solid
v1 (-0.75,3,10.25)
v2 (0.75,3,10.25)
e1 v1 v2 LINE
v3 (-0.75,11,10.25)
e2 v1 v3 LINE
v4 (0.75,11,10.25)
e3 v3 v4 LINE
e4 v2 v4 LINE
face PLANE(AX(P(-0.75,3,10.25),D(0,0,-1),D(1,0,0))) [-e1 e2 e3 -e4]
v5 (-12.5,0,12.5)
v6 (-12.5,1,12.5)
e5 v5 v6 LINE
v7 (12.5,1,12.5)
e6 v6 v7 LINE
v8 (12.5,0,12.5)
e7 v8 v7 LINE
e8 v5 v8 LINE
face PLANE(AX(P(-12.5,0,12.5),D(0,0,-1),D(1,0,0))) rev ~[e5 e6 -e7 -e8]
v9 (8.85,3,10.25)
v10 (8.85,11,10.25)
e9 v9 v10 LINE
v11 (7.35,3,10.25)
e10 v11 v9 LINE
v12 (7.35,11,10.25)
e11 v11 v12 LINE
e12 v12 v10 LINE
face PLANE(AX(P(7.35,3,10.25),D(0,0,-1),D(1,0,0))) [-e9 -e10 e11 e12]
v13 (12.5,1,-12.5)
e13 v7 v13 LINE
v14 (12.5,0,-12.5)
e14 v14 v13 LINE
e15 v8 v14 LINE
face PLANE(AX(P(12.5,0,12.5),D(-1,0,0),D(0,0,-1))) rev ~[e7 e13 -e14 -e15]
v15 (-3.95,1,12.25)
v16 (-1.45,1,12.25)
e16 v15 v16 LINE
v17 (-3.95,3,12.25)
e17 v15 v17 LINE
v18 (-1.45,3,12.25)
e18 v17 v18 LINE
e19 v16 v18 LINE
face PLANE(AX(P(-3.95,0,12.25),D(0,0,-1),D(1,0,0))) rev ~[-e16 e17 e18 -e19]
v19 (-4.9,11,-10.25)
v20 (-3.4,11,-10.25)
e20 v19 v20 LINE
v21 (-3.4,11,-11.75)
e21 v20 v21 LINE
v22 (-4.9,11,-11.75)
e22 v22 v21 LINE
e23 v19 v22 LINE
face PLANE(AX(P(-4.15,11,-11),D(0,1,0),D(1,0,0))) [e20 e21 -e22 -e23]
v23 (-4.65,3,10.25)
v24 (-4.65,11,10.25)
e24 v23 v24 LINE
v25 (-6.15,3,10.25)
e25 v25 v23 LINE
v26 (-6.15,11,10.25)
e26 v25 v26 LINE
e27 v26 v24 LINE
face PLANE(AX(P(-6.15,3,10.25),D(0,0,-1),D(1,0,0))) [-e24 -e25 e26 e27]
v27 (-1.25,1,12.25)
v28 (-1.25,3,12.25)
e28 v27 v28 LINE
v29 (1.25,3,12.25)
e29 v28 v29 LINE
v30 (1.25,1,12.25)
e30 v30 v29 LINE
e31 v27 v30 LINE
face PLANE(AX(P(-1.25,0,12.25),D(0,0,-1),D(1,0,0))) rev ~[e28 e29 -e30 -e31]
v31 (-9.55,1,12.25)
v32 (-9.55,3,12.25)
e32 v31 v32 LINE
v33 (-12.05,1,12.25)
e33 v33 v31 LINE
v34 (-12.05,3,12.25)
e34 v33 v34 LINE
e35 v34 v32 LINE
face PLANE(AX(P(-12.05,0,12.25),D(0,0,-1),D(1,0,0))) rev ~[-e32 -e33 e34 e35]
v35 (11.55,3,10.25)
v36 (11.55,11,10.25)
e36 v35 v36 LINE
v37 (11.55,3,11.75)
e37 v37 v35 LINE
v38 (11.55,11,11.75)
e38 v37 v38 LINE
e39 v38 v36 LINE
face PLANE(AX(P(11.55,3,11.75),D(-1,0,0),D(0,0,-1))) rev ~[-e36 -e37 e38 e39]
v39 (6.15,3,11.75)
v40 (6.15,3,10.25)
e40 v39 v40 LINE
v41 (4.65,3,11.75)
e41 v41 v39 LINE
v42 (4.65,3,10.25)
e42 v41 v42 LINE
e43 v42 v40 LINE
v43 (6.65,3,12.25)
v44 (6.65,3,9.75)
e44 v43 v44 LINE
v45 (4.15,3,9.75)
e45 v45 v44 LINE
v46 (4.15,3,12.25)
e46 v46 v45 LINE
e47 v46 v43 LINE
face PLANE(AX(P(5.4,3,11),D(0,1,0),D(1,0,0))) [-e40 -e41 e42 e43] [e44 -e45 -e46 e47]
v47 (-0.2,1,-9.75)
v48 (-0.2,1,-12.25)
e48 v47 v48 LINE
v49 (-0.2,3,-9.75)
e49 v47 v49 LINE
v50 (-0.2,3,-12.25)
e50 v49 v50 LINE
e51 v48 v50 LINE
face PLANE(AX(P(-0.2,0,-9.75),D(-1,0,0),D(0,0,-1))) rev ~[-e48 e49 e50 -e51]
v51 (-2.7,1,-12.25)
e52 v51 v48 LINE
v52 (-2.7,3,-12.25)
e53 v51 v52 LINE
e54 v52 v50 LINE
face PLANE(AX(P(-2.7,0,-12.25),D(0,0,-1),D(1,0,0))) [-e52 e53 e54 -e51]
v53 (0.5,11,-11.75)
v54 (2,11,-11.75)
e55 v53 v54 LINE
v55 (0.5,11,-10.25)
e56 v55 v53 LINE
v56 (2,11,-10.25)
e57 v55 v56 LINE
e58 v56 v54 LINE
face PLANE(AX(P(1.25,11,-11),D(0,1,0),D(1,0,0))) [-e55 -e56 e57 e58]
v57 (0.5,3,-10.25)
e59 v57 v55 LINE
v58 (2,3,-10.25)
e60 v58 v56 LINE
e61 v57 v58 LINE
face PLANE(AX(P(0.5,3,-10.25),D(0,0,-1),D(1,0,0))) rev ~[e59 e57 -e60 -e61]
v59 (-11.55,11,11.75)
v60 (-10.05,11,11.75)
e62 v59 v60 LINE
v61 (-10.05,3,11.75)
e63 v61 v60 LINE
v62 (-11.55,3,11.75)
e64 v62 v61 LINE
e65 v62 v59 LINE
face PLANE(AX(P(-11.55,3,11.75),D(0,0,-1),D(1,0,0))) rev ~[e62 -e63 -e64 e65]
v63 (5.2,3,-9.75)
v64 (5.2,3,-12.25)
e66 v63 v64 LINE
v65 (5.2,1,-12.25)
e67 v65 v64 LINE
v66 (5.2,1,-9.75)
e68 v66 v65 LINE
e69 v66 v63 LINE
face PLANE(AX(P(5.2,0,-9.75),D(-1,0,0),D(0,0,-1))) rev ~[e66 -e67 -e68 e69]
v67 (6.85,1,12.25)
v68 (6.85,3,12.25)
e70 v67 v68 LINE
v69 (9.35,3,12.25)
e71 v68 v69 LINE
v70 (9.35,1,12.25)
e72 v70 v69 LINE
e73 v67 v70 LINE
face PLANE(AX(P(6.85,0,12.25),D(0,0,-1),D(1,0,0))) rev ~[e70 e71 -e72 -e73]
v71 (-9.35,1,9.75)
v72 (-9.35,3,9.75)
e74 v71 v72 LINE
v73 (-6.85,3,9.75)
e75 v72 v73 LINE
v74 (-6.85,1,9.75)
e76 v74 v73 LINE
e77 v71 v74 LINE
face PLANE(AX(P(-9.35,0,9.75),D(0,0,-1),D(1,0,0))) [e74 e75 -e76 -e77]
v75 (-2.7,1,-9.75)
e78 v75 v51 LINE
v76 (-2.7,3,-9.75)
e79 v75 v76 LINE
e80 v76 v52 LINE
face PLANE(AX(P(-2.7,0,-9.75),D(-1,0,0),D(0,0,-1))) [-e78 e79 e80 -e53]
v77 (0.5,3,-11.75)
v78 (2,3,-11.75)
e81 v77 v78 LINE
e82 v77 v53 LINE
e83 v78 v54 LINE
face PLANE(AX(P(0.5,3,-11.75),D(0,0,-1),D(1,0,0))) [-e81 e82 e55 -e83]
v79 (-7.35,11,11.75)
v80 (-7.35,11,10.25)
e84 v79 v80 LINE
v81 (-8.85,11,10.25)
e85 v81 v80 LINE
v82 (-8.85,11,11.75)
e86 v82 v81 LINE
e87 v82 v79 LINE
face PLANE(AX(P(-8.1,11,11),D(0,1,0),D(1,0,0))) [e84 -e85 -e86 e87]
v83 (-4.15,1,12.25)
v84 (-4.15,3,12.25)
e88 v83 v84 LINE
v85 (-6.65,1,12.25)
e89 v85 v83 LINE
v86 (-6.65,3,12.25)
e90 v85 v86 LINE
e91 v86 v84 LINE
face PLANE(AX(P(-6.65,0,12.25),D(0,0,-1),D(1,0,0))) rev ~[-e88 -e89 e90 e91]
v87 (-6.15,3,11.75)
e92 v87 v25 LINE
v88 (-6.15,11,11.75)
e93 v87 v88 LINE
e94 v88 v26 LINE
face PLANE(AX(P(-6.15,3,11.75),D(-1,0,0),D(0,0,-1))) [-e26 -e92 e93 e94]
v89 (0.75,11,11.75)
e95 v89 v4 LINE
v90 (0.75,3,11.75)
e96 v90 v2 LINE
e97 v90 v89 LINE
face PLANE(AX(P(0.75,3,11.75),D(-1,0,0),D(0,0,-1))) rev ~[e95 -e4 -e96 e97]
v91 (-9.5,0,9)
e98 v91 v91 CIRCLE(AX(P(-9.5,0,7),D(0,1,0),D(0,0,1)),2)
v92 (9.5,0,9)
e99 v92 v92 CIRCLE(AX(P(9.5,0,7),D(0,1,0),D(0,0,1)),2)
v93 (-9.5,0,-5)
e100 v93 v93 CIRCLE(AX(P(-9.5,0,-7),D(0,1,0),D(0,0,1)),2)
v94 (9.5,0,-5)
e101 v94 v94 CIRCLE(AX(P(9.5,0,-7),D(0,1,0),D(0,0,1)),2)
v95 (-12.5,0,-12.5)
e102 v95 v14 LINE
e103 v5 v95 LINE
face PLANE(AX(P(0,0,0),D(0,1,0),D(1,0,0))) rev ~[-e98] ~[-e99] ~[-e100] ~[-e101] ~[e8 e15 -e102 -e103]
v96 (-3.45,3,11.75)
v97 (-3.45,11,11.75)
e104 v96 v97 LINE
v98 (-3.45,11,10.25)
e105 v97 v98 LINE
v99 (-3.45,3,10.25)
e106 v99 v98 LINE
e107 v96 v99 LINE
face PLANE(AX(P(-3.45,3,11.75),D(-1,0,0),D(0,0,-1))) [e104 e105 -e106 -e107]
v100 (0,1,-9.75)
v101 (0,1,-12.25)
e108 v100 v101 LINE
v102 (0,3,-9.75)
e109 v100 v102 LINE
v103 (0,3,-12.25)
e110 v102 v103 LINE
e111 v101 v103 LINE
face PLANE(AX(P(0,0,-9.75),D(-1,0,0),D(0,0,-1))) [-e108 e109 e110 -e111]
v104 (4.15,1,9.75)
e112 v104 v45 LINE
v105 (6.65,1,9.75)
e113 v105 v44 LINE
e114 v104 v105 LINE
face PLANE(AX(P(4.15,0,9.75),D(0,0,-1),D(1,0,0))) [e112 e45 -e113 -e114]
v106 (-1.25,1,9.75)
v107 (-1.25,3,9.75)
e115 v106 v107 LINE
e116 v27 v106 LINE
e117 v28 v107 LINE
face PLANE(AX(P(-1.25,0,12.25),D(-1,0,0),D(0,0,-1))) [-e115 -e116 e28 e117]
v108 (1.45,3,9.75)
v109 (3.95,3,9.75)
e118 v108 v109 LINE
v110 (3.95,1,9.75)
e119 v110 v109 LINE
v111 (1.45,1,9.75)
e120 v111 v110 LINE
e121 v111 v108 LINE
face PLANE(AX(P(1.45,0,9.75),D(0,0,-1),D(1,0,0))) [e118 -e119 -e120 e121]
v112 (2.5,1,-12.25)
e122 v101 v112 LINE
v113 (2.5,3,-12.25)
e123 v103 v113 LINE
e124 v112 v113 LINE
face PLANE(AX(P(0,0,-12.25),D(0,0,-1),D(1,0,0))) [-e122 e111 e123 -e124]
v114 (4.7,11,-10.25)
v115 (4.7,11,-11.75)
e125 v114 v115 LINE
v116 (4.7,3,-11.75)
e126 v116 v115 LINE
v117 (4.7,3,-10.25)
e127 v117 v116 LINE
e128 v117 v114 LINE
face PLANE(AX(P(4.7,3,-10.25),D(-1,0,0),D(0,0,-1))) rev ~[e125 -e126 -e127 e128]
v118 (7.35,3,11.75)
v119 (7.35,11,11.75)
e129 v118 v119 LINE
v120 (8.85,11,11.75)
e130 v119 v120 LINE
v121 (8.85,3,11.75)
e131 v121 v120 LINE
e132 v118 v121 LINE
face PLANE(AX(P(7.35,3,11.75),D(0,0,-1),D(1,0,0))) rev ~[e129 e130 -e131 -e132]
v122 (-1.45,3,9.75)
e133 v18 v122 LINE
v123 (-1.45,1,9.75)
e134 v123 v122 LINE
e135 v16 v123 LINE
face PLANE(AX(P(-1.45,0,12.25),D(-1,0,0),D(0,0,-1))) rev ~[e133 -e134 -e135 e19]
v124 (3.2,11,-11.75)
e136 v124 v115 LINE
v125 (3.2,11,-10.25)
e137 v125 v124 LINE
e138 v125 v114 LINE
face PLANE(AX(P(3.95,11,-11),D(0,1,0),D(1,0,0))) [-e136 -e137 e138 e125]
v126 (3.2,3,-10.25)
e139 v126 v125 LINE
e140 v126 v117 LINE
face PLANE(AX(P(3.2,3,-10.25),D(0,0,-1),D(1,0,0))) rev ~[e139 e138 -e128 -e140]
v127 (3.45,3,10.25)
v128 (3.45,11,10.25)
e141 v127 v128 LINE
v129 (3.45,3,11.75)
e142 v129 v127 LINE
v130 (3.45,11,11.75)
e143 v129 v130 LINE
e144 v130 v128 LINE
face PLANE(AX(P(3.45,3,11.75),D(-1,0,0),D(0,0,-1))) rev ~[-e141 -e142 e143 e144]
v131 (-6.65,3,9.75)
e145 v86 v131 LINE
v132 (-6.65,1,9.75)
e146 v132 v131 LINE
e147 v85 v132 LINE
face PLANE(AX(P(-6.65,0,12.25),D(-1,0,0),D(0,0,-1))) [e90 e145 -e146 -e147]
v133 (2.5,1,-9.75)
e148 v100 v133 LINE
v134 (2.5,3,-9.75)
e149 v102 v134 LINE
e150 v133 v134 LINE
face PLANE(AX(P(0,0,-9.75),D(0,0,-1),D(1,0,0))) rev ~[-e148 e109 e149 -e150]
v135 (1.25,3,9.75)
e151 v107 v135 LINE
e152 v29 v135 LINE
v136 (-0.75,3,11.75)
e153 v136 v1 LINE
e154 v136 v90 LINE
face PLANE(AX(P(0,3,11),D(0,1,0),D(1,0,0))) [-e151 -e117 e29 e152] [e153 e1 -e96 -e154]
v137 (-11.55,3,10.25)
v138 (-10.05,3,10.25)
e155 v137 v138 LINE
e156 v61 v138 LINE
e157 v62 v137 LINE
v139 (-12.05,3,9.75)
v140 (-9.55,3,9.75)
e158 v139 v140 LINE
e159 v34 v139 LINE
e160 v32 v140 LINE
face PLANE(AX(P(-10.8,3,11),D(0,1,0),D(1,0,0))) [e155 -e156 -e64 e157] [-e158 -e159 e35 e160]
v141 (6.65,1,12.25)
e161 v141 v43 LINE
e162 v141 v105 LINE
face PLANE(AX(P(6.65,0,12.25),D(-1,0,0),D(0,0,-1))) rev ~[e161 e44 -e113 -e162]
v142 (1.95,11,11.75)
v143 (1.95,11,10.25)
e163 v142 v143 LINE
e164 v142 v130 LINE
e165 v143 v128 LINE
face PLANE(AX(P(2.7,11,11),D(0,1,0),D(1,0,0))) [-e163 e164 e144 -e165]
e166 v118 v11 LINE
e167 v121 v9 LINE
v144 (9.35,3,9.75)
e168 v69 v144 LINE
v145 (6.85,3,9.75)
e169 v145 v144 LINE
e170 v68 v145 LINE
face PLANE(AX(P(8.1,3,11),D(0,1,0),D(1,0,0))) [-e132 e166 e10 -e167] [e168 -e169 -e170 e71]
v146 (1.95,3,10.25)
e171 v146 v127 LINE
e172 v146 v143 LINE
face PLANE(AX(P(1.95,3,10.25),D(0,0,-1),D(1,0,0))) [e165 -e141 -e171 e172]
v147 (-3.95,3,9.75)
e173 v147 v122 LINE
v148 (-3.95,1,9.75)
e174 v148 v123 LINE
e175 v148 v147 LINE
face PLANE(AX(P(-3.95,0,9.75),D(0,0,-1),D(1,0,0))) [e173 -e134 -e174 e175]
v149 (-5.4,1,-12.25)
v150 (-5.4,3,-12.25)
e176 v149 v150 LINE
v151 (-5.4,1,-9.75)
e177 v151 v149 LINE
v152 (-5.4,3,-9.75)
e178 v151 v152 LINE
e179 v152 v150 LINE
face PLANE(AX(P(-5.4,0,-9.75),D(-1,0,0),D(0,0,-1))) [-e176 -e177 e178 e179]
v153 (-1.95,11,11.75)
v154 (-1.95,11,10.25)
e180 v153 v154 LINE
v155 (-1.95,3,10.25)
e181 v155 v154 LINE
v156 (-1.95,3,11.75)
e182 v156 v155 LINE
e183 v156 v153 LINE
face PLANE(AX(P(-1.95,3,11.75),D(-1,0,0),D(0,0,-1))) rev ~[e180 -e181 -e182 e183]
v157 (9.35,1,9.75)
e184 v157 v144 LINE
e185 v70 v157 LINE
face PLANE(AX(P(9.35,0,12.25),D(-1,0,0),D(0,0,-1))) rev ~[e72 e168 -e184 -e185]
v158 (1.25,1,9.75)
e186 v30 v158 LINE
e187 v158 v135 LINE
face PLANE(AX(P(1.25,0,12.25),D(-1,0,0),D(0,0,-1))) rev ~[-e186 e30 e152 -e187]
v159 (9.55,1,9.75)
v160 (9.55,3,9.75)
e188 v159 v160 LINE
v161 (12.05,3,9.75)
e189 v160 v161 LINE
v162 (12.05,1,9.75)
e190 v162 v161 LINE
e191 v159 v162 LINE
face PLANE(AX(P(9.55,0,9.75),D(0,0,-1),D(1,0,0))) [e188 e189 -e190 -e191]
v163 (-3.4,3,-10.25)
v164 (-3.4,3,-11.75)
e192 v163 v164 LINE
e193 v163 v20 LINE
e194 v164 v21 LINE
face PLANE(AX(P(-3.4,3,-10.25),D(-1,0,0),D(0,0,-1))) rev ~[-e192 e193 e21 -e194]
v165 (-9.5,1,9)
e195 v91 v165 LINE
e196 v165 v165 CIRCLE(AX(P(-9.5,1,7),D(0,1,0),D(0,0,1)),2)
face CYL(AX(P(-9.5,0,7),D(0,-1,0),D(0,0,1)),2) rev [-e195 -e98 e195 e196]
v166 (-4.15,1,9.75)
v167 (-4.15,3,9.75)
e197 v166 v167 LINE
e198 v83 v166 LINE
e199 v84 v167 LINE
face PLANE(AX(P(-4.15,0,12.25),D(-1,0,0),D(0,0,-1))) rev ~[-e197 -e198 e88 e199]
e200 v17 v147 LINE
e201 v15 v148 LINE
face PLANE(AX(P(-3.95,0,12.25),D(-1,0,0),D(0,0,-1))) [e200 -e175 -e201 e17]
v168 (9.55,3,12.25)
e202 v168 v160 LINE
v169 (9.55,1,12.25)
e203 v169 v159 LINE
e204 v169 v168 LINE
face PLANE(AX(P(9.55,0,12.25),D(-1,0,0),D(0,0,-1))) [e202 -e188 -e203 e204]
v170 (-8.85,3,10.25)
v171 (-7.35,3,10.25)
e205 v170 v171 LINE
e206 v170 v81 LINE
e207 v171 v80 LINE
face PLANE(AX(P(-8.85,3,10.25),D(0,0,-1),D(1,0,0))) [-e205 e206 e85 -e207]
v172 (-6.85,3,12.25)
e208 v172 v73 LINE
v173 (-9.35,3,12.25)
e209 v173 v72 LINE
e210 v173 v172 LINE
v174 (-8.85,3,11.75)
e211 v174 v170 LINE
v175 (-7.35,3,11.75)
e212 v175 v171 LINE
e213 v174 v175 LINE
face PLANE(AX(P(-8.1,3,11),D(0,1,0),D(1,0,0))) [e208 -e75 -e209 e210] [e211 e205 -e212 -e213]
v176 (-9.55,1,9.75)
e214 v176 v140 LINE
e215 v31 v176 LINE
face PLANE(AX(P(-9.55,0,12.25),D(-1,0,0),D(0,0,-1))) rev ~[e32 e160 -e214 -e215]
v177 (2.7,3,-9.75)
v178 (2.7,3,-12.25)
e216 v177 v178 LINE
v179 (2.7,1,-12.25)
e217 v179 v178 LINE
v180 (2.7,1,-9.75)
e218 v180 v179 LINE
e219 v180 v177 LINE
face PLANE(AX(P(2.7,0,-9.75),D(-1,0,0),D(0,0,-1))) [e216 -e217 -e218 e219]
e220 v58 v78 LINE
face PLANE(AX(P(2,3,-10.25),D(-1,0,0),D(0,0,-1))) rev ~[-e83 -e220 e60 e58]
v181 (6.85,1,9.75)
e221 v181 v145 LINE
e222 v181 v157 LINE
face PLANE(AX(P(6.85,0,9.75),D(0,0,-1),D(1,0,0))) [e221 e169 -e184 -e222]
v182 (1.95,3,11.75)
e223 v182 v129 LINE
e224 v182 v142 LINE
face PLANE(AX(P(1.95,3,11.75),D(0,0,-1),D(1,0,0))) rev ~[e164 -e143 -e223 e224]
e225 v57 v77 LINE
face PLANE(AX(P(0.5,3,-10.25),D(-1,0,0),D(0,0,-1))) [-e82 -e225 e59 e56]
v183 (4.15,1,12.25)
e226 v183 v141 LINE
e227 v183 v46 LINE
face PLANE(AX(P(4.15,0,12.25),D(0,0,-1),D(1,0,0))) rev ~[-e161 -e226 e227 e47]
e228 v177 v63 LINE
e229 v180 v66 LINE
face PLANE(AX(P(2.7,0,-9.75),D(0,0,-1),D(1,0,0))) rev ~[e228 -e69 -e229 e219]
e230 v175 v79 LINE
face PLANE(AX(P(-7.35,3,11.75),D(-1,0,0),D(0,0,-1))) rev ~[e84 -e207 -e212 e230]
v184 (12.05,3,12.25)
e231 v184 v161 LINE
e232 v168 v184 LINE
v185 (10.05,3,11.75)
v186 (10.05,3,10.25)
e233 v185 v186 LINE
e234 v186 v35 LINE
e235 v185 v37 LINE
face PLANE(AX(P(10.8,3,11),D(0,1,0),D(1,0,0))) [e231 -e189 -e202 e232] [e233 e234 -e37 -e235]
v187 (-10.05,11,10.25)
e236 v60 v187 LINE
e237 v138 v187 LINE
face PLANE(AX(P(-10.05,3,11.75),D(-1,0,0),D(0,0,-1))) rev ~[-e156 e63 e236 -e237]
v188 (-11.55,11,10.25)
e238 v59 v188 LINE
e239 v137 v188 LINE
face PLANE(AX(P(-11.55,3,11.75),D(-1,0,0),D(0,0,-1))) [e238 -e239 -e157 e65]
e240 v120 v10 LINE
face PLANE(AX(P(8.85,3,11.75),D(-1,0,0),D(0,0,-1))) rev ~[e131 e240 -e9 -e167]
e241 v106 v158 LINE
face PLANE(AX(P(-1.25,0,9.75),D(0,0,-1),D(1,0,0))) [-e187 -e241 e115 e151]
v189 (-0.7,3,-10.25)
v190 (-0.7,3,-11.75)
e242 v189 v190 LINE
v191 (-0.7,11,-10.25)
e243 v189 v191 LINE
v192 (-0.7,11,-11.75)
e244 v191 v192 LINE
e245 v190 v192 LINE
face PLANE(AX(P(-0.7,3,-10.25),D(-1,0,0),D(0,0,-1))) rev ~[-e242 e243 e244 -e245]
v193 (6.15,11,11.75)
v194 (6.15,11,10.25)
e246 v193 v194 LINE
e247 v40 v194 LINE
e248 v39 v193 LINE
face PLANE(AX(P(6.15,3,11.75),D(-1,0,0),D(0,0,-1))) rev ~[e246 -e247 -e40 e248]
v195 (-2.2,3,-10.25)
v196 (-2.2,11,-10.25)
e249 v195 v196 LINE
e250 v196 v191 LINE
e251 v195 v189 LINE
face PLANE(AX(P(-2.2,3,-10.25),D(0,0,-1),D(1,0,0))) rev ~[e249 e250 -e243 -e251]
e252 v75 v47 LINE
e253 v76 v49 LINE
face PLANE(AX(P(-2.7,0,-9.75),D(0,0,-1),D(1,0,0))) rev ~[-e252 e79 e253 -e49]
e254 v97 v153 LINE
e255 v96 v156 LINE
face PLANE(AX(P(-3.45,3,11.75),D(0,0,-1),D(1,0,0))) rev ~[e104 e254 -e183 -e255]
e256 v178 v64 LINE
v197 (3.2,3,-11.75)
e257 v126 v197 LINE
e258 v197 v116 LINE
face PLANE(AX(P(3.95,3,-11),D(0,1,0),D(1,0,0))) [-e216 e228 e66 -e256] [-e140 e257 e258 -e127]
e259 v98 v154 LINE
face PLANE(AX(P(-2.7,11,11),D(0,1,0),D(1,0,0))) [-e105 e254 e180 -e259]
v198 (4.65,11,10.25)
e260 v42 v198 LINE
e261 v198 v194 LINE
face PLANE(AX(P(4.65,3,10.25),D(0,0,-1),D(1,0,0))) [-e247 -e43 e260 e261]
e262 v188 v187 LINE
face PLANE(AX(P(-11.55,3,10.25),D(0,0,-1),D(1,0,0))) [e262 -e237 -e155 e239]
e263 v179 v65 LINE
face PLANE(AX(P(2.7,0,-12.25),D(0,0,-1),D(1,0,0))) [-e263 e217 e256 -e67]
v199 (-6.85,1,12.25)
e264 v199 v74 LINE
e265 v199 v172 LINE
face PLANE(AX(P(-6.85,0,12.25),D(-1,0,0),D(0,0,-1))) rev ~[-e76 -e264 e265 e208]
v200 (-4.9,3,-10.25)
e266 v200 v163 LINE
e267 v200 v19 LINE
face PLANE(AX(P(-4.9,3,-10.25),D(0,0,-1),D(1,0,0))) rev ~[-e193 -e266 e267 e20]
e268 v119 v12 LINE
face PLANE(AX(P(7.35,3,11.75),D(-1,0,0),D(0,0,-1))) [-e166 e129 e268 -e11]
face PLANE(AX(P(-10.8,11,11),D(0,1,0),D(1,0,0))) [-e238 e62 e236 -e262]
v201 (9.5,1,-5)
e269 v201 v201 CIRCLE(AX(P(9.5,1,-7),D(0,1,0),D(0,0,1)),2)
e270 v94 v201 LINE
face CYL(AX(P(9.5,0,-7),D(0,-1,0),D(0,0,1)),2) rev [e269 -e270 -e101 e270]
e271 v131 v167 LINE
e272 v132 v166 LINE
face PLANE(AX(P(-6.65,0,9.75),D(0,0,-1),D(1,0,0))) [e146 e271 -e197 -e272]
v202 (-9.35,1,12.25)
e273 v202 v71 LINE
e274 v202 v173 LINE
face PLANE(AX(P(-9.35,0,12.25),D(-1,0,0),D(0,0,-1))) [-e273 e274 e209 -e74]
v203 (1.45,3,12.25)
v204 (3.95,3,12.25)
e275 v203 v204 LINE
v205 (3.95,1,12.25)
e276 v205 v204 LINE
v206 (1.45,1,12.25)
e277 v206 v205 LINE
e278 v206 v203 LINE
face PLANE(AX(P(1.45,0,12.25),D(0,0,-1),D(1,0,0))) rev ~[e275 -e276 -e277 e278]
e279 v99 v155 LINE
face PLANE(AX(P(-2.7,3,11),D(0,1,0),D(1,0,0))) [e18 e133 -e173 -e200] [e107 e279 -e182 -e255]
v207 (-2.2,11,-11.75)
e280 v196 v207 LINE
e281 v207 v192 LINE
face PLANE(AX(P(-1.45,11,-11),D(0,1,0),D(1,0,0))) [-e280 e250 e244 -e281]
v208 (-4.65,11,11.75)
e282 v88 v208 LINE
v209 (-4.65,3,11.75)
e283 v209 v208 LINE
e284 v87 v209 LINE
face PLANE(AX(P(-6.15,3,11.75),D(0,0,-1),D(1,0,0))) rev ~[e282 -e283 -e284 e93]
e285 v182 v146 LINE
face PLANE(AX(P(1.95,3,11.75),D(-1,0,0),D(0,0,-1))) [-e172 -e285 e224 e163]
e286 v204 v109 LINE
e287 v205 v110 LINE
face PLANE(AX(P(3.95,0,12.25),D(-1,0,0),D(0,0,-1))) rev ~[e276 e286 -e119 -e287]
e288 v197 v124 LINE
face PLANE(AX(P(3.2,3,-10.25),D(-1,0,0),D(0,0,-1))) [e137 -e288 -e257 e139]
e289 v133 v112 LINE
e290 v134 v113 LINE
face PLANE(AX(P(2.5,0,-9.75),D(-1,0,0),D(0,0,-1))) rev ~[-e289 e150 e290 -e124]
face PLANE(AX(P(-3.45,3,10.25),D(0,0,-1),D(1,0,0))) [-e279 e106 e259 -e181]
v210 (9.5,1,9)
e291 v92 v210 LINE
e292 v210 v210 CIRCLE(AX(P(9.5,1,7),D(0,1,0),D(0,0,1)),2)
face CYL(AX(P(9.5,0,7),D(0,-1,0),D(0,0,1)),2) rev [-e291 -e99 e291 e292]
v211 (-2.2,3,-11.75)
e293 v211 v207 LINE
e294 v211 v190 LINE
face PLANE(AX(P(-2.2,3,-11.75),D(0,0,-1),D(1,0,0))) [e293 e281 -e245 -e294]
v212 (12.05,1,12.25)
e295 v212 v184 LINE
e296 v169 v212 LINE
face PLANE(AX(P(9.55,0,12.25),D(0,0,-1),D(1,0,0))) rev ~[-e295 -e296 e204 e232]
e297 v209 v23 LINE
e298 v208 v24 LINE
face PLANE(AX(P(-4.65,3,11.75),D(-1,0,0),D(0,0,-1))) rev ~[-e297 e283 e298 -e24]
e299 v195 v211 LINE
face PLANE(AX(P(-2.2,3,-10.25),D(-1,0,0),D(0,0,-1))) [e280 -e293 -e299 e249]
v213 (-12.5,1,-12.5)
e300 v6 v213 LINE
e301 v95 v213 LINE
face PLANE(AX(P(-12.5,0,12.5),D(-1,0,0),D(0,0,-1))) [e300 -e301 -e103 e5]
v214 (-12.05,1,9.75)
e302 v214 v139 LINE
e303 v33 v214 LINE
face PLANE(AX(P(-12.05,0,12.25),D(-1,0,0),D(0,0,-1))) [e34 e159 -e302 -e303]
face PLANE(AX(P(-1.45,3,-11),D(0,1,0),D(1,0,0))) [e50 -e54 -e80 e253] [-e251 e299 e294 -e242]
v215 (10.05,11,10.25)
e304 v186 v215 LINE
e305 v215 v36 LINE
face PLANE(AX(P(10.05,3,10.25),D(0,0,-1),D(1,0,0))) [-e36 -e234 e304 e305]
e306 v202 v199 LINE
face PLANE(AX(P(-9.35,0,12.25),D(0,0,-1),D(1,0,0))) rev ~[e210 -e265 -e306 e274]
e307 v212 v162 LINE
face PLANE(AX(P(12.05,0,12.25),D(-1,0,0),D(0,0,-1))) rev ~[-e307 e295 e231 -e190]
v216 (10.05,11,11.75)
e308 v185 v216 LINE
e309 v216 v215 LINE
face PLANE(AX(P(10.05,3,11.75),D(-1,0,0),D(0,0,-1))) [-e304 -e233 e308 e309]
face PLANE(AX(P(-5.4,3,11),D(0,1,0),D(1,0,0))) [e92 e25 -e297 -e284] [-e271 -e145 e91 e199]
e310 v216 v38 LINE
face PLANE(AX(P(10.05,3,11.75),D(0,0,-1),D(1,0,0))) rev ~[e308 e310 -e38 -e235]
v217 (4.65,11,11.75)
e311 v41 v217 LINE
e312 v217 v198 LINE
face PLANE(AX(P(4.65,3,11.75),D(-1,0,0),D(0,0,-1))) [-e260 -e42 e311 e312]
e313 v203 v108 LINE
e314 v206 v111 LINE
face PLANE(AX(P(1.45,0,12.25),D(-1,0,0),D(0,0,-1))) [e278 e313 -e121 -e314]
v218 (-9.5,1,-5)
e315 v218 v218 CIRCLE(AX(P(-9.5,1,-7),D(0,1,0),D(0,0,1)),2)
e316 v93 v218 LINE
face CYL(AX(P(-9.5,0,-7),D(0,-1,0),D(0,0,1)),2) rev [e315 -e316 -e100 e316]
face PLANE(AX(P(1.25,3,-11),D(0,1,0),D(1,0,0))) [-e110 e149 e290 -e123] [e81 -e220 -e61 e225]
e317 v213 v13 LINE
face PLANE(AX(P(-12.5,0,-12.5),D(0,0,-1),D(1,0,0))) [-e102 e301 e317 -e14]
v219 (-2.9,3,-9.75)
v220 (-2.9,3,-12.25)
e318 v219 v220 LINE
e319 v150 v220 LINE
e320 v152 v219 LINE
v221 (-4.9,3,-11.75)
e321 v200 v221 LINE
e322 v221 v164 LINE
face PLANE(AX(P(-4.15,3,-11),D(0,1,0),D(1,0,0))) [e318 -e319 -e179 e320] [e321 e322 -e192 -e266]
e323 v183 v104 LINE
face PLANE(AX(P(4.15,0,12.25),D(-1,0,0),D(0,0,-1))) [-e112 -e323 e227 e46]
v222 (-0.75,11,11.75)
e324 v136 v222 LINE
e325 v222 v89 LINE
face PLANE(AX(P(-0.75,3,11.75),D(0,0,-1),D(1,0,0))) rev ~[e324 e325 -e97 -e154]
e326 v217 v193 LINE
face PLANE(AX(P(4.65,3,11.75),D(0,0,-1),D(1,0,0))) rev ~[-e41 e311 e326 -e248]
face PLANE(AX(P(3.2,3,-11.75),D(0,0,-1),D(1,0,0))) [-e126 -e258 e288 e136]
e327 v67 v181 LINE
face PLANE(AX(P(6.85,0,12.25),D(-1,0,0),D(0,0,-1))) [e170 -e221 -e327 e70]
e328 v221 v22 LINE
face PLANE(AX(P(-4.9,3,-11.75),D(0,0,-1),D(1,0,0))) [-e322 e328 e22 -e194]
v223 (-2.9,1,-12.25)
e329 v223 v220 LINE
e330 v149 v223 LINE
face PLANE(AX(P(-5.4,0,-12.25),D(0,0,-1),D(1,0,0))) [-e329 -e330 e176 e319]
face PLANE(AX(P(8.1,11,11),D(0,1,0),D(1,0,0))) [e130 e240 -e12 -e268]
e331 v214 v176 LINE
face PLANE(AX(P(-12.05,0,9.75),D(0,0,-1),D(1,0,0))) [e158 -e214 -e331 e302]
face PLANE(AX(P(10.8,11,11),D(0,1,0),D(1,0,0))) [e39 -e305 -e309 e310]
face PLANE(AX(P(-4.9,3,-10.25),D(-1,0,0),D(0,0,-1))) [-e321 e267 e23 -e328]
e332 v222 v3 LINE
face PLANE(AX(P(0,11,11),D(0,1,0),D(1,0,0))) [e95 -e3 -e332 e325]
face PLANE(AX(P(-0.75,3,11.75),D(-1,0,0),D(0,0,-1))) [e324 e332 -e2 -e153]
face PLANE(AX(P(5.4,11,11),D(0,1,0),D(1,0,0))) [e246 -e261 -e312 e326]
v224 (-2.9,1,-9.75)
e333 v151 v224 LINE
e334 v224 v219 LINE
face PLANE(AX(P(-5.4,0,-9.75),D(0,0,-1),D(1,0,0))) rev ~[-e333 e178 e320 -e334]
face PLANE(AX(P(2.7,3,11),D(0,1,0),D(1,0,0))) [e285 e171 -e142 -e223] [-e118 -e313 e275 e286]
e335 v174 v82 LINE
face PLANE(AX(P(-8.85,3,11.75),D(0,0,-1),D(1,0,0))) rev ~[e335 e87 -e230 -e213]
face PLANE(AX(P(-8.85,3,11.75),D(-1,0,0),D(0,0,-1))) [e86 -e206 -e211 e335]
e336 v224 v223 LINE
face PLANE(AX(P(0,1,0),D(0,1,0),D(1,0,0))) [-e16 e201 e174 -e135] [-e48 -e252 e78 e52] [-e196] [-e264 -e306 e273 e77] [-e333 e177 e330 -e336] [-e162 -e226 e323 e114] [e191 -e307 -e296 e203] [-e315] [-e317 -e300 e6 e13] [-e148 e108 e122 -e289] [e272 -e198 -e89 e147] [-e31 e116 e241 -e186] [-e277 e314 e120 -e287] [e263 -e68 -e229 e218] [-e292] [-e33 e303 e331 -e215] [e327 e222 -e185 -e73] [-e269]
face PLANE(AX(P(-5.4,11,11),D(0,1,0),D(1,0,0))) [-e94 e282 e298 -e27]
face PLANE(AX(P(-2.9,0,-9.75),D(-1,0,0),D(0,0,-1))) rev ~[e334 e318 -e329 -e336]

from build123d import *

# Parameters (mm, degrees)
SKETCH_1_W      = 25
SKETCH_1_H      = 25
SKETCH_1_R      = 2
SKETCH_1_W_2    = 2.5
SKETCH_1_H_2    = 2.5
EXTRUDE_1_DEPTH = 1
SKETCH_1_4_W    = 2.5
SKETCH_1_4_H    = 2.5
EXTRUDE_3_DEPTH = 3
SKETCH_3_W      = 1.5
SKETCH_3_H      = 1.5
EXTRUDE_4_DEPTH = 8


with BuildPart() as part:
    # Эскиз1 → Бобышка-Вытянуть1 (new body)
    with BuildSketch(Plane(origin=(0, 0, 0), x_dir=(1, 0, 0), z_dir=(0, 1, 0))):
        Rectangle(SKETCH_1_W, SKETCH_1_H)
        with Locations((-9.5, 7)):
            Circle(SKETCH_1_R, mode=Mode.SUBTRACT)
        with Locations((9.5, 7)):
            Circle(SKETCH_1_R, mode=Mode.SUBTRACT)
        with Locations((9.5, -7)):
            Circle(SKETCH_1_R, mode=Mode.SUBTRACT)
        with Locations((-9.5, -7)):
            Circle(SKETCH_1_R, mode=Mode.SUBTRACT)
        with Locations((2.7, -11)):
            Rectangle(SKETCH_1_W_2, SKETCH_1_H_2, mode=Mode.SUBTRACT)
        with Locations((0, -11)):
            Rectangle(SKETCH_1_W_2, SKETCH_1_H_2, mode=Mode.SUBTRACT)
        with Locations((-2.7, -11)):
            Rectangle(SKETCH_1_W_2, SKETCH_1_H_2, mode=Mode.SUBTRACT)
        with Locations((-5.4, -11)):
            Rectangle(SKETCH_1_W_2, SKETCH_1_H_2, mode=Mode.SUBTRACT)
        with Locations((-8.1, -11)):
            Rectangle(SKETCH_1_W_2, SKETCH_1_H_2, mode=Mode.SUBTRACT)
        with Locations((-10.8, -11)):
            Rectangle(SKETCH_1_W_2, SKETCH_1_H_2, mode=Mode.SUBTRACT)
        with Locations((1.25, 11)):
            Rectangle(SKETCH_1_W_2, SKETCH_1_H_2, mode=Mode.SUBTRACT)
        with Locations((-1.45, 11)):
            Rectangle(SKETCH_1_W_2, SKETCH_1_H_2, mode=Mode.SUBTRACT)
        with Locations((3.95, 11)):
            Rectangle(SKETCH_1_W_2, SKETCH_1_H_2, mode=Mode.SUBTRACT)
        with Locations((-4.15, 11)):
            Rectangle(SKETCH_1_W_2, SKETCH_1_H_2, mode=Mode.SUBTRACT)
        with Locations((5.4, -11)):
            Rectangle(SKETCH_1_W_2, SKETCH_1_H_2, mode=Mode.SUBTRACT)
        with Locations((8.1, -11)):
            Rectangle(SKETCH_1_W_2, SKETCH_1_H_2, mode=Mode.SUBTRACT)
        with Locations((10.8, -11)):
            Rectangle(SKETCH_1_W_2, SKETCH_1_H_2, mode=Mode.SUBTRACT)
    extrude(amount=EXTRUDE_1_DEPTH)

    # Эскиз1<4> → Бобышка-Вытянуть3 (add)
    with BuildSketch(Plane(origin=(0, 0, 0), x_dir=(1, 0, 0), z_dir=(0, 1, 0))):
        with Locations((2.7, -11)):
            Rectangle(SKETCH_1_4_W, SKETCH_1_4_H)
        with Locations((0, -11)):
            Rectangle(SKETCH_1_4_W, SKETCH_1_4_H)
        with Locations((-2.7, -11)):
            Rectangle(SKETCH_1_4_W, SKETCH_1_4_H)
        with Locations((-5.4, -11)):
            Rectangle(SKETCH_1_4_W, SKETCH_1_4_H)
        with Locations((-8.1, -11)):
            Rectangle(SKETCH_1_4_W, SKETCH_1_4_H)
        with Locations((-10.8, -11)):
            Rectangle(SKETCH_1_4_W, SKETCH_1_4_H)
        with Locations((1.25, 11)):
            Rectangle(SKETCH_1_4_W, SKETCH_1_4_H)
        with Locations((-1.45, 11)):
            Rectangle(SKETCH_1_4_W, SKETCH_1_4_H)
        with Locations((3.95, 11)):
            Rectangle(SKETCH_1_4_W, SKETCH_1_4_H)
        with Locations((-4.15, 11)):
            Rectangle(SKETCH_1_4_W, SKETCH_1_4_H)
        with Locations((5.4, -11)):
            Rectangle(SKETCH_1_4_W, SKETCH_1_4_H)
        with Locations((8.1, -11)):
            Rectangle(SKETCH_1_4_W, SKETCH_1_4_H)
        with Locations((10.8, -11)):
            Rectangle(SKETCH_1_4_W, SKETCH_1_4_H)
    extrude(amount=EXTRUDE_3_DEPTH)

    # Эскиз3 → Бобышка-Вытянуть4 (add)
    with BuildSketch(Plane(origin=(0, 3, 0), x_dir=(1, 0, 0), z_dir=(0, 1, 0))):
        with Locations((-4.15, 11)):
            Rectangle(SKETCH_3_W, SKETCH_3_H)
        with Locations((-1.45, 11)):
            Rectangle(SKETCH_3_W, SKETCH_3_H)
        with Locations((1.25, 11)):
            Rectangle(SKETCH_3_W, SKETCH_3_H)
        with Locations((3.95, 11)):
            Rectangle(SKETCH_3_W, SKETCH_3_H)
        with Locations((-8.1, -11)):
            Rectangle(SKETCH_3_W, SKETCH_3_H)
        with Locations((-10.8, -11)):
            Rectangle(SKETCH_3_W, SKETCH_3_H)
        with Locations((-5.4, -11)):
            Rectangle(SKETCH_3_W, SKETCH_3_H)
        with Locations((-2.7, -11)):
            Rectangle(SKETCH_3_W, SKETCH_3_H)
        with Locations((0, -11)):
            Rectangle(SKETCH_3_W, SKETCH_3_H)
        with Locations((2.7, -11)):
            Rectangle(SKETCH_3_W, SKETCH_3_H)
        with Locations((5.4, -11)):
            Rectangle(SKETCH_3_W, SKETCH_3_H)
        with Locations((8.1, -11)):
            Rectangle(SKETCH_3_W, SKETCH_3_H)
        with Locations((10.8, -11)):
            Rectangle(SKETCH_3_W, SKETCH_3_H)
    extrude(amount=EXTRUDE_4_DEPTH)


solid = part.part
